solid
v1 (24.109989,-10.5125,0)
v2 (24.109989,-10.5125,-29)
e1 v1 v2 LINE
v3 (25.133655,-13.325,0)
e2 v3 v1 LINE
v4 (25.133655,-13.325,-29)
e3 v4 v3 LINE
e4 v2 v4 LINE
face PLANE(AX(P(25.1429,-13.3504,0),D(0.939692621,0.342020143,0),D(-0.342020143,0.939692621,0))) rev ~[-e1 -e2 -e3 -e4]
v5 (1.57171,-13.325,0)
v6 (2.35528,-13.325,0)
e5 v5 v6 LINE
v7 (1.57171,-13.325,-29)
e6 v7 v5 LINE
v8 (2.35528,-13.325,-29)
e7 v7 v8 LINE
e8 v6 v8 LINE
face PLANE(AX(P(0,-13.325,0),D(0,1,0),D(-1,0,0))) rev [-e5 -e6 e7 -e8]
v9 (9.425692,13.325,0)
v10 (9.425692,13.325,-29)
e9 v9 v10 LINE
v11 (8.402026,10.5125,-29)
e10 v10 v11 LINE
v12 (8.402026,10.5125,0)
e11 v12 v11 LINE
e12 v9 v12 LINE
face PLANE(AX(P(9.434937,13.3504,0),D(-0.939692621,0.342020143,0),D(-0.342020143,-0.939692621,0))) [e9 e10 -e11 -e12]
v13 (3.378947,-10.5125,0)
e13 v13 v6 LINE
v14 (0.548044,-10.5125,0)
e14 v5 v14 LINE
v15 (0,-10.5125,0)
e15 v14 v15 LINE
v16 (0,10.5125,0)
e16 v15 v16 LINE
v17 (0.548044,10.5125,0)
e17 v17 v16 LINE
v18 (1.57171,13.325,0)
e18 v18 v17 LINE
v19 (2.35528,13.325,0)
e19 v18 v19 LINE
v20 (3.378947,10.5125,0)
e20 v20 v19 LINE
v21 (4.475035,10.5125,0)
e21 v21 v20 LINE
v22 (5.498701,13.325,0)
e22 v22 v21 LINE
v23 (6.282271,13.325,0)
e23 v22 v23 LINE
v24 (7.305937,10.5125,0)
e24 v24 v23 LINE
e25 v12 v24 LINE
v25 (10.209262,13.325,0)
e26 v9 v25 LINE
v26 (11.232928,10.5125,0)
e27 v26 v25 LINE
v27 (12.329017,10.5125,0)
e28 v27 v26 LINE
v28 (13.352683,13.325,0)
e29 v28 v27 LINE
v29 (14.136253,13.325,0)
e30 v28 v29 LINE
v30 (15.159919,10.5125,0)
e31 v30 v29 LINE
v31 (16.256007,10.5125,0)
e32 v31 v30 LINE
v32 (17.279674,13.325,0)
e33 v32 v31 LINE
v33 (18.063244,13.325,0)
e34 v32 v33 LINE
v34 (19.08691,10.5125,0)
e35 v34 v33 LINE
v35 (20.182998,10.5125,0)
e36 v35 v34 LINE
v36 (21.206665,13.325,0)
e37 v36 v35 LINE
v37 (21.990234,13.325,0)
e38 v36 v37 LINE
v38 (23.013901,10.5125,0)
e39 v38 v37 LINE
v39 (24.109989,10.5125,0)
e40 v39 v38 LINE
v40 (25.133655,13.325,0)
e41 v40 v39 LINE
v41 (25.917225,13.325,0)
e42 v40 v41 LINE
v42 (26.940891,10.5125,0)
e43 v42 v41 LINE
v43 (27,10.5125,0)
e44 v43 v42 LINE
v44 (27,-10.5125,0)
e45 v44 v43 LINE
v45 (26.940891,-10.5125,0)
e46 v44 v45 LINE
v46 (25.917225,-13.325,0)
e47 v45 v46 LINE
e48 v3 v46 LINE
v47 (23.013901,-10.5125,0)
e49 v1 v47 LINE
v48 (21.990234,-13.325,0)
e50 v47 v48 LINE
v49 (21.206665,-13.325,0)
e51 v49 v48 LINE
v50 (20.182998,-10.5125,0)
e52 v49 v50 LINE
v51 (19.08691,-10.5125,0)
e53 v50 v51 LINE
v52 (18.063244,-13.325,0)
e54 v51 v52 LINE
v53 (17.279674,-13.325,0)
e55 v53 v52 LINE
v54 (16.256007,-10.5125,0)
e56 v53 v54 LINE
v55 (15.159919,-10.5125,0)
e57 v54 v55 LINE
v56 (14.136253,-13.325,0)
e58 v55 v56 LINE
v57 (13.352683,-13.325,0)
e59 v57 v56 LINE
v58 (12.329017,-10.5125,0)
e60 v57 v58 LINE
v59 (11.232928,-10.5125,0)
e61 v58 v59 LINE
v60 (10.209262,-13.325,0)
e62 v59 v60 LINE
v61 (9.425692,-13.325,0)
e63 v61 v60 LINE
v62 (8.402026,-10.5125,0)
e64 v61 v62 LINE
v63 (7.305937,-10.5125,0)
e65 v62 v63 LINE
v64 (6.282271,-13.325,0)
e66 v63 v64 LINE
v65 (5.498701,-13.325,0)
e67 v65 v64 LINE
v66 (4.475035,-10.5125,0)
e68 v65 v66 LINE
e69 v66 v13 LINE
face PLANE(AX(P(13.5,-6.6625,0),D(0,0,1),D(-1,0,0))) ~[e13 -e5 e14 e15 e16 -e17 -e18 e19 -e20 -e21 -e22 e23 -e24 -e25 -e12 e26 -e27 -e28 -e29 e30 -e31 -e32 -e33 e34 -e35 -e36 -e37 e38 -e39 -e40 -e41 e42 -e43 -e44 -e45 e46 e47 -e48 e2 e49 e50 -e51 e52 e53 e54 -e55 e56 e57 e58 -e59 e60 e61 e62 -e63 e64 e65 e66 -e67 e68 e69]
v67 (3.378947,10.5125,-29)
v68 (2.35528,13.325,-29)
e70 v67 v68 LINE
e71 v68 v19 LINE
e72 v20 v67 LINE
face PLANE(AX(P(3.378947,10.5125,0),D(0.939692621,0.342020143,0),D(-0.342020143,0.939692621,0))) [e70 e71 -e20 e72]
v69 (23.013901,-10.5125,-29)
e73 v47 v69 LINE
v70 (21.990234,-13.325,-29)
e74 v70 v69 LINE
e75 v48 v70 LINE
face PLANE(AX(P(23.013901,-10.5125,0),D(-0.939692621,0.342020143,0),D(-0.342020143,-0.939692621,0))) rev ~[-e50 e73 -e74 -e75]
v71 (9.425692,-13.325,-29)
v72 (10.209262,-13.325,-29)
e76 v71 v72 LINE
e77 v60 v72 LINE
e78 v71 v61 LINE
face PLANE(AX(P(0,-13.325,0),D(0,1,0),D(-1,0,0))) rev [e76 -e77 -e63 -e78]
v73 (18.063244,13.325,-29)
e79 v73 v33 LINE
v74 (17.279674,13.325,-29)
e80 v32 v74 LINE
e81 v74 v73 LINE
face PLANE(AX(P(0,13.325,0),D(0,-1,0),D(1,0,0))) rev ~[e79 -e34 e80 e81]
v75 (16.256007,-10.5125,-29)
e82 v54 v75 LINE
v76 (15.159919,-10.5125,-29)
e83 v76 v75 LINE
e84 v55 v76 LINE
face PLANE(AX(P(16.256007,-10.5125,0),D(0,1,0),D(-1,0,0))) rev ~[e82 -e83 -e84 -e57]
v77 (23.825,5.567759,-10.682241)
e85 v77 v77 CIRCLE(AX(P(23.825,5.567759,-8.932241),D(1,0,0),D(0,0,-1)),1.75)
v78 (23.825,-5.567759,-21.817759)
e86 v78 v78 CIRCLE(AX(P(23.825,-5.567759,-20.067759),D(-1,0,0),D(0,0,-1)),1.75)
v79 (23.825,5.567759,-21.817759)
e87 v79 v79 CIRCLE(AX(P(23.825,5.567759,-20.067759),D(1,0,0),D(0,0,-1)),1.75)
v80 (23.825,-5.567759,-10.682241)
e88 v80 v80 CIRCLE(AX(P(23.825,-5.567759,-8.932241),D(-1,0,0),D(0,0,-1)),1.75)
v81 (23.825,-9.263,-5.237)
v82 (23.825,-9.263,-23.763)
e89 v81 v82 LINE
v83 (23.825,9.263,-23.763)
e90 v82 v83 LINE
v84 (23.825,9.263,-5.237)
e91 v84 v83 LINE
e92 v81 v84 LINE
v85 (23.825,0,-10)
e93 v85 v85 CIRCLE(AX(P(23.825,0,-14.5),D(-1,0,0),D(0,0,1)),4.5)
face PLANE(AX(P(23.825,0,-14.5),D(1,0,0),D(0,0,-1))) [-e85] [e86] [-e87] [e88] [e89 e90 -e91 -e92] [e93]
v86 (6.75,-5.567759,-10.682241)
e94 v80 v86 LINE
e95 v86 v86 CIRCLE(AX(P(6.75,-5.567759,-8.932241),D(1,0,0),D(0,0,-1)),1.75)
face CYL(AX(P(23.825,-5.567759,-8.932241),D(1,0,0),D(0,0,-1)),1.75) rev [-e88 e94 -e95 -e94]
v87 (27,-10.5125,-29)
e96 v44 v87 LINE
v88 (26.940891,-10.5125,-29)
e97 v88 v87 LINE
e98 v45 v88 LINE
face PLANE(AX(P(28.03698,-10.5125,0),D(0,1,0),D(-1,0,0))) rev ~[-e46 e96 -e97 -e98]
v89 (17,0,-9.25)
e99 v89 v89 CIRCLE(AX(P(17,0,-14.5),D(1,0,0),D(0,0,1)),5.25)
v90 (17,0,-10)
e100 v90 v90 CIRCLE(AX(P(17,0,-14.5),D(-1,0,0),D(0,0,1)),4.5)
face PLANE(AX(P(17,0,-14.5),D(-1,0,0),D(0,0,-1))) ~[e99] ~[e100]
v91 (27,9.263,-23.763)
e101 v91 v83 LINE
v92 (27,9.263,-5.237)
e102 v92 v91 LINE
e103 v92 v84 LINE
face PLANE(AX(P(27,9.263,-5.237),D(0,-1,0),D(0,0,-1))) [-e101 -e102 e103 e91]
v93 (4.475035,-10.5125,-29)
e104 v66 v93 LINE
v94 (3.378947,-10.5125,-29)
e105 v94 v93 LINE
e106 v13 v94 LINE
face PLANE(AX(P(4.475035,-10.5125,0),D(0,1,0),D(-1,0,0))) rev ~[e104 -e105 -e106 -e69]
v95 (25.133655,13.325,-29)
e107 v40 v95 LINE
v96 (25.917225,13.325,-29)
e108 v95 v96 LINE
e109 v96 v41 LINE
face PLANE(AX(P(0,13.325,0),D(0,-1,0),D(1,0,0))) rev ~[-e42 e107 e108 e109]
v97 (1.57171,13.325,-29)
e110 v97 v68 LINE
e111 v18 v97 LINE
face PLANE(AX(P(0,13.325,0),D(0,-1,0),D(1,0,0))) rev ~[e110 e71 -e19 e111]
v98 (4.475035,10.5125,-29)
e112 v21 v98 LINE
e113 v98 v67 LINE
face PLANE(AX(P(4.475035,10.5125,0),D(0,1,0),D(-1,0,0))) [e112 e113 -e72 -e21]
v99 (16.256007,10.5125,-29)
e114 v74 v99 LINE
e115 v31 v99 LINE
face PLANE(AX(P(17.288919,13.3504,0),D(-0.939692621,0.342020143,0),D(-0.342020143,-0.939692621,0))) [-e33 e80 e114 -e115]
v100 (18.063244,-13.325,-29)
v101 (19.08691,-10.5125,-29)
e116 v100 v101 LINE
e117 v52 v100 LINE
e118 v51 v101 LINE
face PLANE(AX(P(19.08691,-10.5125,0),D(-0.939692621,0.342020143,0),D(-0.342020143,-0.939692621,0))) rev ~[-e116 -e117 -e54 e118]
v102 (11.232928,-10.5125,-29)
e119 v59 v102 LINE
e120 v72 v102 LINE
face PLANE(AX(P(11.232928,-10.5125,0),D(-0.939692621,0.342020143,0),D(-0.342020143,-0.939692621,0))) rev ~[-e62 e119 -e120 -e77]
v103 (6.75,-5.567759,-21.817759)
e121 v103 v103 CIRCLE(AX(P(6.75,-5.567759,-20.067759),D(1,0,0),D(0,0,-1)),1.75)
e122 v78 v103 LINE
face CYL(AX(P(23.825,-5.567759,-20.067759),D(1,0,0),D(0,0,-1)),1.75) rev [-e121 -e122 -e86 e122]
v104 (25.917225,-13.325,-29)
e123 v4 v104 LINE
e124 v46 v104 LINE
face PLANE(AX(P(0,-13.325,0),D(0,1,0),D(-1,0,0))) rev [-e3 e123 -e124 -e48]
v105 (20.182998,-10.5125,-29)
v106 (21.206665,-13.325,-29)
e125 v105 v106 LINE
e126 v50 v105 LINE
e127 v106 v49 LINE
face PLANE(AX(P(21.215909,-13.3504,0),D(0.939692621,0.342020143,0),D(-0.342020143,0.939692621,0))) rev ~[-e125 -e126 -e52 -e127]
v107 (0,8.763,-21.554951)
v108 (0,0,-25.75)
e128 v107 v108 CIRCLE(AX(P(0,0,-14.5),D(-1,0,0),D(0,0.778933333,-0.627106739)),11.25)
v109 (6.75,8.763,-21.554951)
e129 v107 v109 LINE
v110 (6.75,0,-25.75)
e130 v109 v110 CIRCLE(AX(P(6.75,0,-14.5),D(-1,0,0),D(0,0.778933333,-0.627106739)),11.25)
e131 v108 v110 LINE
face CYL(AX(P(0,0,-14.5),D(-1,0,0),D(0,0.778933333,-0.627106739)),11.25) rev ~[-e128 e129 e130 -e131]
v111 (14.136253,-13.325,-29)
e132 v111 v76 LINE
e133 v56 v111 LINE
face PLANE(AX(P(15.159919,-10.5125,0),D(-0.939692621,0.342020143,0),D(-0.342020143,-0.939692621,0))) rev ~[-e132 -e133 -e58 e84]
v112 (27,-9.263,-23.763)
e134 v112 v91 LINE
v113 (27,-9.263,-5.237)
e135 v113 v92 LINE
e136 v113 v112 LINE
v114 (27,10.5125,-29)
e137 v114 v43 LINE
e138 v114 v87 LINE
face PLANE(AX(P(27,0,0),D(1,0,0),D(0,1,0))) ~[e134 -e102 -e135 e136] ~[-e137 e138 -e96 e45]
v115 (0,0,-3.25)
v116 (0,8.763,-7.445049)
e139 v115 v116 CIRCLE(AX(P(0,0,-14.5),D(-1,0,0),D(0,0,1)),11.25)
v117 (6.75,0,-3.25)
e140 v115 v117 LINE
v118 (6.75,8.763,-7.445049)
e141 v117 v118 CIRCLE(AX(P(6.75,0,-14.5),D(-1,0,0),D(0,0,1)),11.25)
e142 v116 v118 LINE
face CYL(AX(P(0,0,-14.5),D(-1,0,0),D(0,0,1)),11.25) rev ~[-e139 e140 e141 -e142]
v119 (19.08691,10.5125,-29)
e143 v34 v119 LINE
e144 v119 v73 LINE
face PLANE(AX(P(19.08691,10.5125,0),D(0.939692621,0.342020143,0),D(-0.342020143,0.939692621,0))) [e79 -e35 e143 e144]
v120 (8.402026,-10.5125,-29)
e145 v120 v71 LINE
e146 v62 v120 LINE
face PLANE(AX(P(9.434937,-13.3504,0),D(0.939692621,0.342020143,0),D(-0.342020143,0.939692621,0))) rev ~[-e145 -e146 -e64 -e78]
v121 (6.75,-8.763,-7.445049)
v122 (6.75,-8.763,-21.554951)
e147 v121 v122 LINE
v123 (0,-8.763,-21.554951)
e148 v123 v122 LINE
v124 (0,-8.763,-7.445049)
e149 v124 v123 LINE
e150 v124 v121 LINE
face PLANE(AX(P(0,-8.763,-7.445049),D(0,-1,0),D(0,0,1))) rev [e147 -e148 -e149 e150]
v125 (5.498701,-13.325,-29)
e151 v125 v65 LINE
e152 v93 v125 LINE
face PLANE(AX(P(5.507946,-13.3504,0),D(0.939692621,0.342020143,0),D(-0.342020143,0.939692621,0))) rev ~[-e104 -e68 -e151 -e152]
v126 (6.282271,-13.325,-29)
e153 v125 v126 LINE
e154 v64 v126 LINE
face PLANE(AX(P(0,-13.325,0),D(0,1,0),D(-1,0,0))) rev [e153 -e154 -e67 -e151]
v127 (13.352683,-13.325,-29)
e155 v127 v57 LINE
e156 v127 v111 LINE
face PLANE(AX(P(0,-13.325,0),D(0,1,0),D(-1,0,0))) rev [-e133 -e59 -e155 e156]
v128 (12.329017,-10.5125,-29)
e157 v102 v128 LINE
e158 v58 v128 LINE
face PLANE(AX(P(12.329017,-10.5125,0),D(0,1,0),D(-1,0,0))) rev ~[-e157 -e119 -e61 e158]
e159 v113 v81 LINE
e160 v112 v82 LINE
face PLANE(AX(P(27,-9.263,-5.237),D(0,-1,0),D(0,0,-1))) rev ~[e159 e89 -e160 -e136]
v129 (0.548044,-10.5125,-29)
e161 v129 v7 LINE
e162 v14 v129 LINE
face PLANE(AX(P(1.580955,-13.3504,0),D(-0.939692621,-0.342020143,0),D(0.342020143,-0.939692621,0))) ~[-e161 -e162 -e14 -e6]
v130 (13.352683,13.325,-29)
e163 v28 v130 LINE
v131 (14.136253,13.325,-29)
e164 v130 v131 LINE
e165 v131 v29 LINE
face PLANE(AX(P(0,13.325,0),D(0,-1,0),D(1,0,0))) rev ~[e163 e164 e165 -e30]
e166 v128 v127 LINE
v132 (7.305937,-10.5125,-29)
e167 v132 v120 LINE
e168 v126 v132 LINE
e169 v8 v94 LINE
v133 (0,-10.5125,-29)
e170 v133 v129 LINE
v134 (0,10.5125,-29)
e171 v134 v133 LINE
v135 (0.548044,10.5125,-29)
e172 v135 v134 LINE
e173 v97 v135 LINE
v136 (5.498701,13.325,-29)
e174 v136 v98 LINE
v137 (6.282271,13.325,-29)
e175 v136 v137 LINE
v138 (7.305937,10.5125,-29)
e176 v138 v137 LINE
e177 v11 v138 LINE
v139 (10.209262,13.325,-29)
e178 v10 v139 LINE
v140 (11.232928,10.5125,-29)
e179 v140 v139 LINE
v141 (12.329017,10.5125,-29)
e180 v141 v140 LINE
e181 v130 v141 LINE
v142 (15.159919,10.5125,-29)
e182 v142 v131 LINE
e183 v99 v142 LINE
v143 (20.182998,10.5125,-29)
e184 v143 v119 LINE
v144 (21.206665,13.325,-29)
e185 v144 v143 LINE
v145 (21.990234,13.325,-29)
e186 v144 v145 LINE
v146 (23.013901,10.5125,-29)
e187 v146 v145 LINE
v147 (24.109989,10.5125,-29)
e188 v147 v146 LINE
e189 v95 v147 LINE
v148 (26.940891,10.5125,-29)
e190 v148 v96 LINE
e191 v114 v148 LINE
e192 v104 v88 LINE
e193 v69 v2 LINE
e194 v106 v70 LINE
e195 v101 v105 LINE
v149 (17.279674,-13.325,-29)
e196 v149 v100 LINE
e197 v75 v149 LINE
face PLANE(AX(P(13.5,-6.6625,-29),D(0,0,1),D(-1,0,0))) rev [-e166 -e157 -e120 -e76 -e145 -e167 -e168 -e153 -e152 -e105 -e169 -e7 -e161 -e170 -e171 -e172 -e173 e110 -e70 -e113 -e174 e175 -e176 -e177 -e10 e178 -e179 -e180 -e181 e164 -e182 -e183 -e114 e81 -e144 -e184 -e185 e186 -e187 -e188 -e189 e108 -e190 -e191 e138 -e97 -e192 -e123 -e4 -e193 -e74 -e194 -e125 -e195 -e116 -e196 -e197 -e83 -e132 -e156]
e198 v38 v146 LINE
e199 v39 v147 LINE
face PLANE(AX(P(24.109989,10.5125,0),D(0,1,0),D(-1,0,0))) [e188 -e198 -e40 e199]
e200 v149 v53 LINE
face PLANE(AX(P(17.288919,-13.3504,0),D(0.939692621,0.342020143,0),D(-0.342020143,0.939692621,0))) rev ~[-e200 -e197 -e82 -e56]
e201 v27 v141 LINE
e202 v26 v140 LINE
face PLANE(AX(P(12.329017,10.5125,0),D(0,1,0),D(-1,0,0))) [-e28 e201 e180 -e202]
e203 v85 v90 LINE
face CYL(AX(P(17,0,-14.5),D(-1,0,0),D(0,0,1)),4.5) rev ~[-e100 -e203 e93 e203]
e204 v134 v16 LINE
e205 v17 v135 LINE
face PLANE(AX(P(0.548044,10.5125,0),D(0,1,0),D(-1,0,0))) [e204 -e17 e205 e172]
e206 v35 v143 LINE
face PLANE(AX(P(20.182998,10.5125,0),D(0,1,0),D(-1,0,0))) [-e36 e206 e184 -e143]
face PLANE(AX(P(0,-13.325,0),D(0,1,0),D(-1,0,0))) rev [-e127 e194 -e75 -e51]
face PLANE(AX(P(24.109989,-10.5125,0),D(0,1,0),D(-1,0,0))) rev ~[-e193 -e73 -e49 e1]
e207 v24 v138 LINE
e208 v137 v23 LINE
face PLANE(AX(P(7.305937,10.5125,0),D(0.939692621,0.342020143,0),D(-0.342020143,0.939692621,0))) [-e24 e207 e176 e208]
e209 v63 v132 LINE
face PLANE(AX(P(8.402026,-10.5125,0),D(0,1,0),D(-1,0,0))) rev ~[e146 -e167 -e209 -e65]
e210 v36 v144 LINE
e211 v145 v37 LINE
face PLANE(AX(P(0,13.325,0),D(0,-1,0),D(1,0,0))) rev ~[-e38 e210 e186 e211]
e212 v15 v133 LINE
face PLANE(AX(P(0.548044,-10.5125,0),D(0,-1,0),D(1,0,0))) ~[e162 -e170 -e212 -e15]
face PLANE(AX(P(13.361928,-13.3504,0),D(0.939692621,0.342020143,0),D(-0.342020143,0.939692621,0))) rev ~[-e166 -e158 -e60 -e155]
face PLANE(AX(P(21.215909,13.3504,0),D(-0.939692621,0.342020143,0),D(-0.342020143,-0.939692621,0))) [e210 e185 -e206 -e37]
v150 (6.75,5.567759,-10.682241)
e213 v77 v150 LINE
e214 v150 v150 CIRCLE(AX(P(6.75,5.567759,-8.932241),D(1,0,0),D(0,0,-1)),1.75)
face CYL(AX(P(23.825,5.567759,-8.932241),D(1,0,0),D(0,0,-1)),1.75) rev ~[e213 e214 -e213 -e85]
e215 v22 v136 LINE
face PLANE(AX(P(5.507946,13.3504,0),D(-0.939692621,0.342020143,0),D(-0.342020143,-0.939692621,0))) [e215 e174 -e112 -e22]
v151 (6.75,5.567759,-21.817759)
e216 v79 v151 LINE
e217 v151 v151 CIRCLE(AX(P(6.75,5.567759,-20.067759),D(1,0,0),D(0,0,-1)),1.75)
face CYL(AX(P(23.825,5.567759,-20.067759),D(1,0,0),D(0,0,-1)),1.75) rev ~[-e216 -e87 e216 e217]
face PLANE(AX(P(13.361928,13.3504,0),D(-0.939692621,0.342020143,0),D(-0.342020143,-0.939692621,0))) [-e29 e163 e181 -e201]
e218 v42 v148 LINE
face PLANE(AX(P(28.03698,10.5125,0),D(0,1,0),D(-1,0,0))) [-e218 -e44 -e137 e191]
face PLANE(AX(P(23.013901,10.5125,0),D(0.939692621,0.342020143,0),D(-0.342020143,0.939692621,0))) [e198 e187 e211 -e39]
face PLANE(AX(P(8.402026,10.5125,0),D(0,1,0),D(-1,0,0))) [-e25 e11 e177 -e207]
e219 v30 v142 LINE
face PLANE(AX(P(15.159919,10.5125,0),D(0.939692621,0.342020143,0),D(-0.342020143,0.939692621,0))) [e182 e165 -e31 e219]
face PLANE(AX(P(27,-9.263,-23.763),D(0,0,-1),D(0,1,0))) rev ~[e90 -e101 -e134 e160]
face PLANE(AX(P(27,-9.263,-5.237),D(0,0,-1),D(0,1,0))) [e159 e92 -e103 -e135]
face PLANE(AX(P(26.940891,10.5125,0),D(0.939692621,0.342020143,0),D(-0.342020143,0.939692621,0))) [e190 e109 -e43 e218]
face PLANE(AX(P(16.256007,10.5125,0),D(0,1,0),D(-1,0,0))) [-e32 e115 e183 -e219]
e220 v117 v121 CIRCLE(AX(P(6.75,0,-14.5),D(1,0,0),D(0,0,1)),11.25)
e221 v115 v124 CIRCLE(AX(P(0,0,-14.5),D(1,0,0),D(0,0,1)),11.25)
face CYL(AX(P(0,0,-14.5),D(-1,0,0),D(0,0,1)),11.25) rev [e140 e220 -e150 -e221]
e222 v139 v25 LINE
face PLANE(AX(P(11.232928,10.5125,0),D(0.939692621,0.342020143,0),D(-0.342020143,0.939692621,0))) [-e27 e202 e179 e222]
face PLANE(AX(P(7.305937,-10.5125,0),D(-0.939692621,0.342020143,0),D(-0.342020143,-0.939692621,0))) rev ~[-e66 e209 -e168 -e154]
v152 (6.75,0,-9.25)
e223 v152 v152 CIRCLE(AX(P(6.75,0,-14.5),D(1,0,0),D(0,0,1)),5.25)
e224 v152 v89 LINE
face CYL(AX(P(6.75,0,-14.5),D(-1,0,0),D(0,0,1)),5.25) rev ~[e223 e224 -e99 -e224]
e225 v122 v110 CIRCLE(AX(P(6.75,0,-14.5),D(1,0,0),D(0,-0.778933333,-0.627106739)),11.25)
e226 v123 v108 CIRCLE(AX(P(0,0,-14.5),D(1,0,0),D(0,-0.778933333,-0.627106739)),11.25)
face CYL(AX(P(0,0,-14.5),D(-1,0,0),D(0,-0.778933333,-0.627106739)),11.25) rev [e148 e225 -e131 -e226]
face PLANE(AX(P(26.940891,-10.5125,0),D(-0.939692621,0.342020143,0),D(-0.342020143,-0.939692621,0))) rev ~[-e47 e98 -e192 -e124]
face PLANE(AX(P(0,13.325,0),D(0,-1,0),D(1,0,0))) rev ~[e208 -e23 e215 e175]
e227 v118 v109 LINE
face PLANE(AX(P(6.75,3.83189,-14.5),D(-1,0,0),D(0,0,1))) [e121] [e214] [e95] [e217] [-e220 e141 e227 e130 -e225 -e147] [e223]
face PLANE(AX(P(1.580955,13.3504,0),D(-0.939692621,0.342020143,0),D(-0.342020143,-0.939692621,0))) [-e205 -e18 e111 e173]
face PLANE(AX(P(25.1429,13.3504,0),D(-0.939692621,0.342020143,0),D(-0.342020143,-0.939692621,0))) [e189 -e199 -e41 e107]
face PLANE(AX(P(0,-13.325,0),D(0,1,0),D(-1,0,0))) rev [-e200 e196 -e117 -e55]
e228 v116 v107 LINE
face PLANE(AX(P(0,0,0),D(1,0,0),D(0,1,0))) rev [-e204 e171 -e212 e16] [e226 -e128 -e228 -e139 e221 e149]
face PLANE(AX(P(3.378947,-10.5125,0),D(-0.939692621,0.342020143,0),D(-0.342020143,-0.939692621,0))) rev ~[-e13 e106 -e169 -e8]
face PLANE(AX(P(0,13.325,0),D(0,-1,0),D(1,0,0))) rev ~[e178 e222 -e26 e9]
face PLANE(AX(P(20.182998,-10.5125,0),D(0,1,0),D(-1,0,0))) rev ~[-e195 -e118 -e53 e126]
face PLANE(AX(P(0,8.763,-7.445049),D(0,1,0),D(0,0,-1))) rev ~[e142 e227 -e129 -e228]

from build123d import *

# Parameters (mm, degrees)
BLANKSKE_W           = 27
BLANKSKE_H           = 13.325
BLANK_DEPTH          = 29
TOOTHCUTSIM_DEPTH    = 42.803775248
TEETHCUTS_COUNT      = 8
TEETHCUTS_PITCH      = 3.926990813
CUT_EXTRUDE1_DEPTH   = 6.75
SKETCH3_R            = 5.25
CUT_EXTRUDE2_DEPTH   = 10.25
SKETCH4_R            = 4.5
CUT_EXTRUDE3_DEPTH   = 37.16013862
SKETCH5_R            = 2.5
CUT_EXTRUDE4_DEPTH   = 3.175
SKETCH6_R            = 1.75
CUT_EXTRUDE5_DEPTH   = 40.826953813
MIRROR1_COPY_1_DEPTH = 42.803775248
MIRROR1_COPY_2_DEPTH = 42.803775248
MIRROR1_COPY_3_DEPTH = 42.803775248
MIRROR1_COPY_4_DEPTH = 42.803775248
MIRROR1_COPY_5_DEPTH = 42.803775248
MIRROR1_COPY_6_DEPTH = 42.803775248
MIRROR1_COPY_7_DEPTH = 42.803775248
SKETCH9_W            = 18.526
SKETCH9_H            = 18.526
CUT_EXTRUDE6_DEPTH   = 3.175


with BuildPart() as part:
    # BlankSke → Blank (new body)
    with BuildSketch(Plane.XY):
        with Locations((13.5, 6.6625)):
            Rectangle(BLANKSKE_W, BLANKSKE_H)
    blank = extrude(amount=-BLANK_DEPTH)

    # TooCutSkeSim → ToothCutSim (cut, through all)
    with BuildSketch(Plane.XY):
        Polygon((0.548044212, 10.5125), (-0.548044212, 10.5125), (-1.58095534, 13.3504), (1.58095534, 13.3504), align=None)
    toothcutsim = extrude(amount=-TOOTHCUTSIM_DEPTH, mode=Mode.SUBTRACT)

    # TeethCuts: ToothCutSim ×8
    with Locations(*[(i * TEETHCUTS_PITCH, 0, 0) for i in range(1, TEETHCUTS_COUNT)]):
        add(toothcutsim, mode=Mode.SUBTRACT)

    # Sketch2 → Cut-Extrude1 (cut)
    with BuildSketch(Plane.ZY):
        with BuildLine():
            Line((-7.445049185, 8.763), (-21.554950815, 8.763))
            ThreePointArc((-21.554950815, 8.763), (-24.647184256, 4.857689952), (-25.75, 0))
            Line((-25.75, 0), (-3.25, 0))
            ThreePointArc((-3.25, 0), (-4.352815744, 4.857689952), (-7.445049185, 8.763))
        make_face()
    cut_extrude1 = extrude(amount=-CUT_EXTRUDE1_DEPTH, mode=Mode.SUBTRACT)

    # Sketch3 → Cut-Extrude2 (cut)
    with BuildSketch(Plane.ZY.offset(-6.75)):
        with Locations((-14.5, 0)):
            Circle(SKETCH3_R)
    cut_extrude2 = extrude(amount=-CUT_EXTRUDE2_DEPTH, mode=Mode.SUBTRACT)

    # Sketch4 → Cut-Extrude3 (cut, symmetric)
    with BuildSketch(Plane.ZY.offset(-17)):
        with Locations((-14.5, 0)):
            Circle(SKETCH4_R)
    cut_extrude3 = extrude(amount=CUT_EXTRUDE3_DEPTH, both=True, mode=Mode.SUBTRACT)

    # Sketch5 → Cut-Extrude4 (cut)
    with BuildSketch(Plane(origin=(27, 0, 0), x_dir=(0, 0, -1), z_dir=(1, 0, 0))):
        with Locations((8.932241205, 5.567758795)):
            Circle(SKETCH5_R)
        with Locations((20.067758795, 5.567758795)):
            Circle(SKETCH5_R)
    cut_extrude4 = extrude(amount=-CUT_EXTRUDE4_DEPTH, mode=Mode.SUBTRACT)

    # Sketch6 → Cut-Extrude5 (cut, through all)
    with BuildSketch(Plane(origin=(23.825, 0, 0), x_dir=(0, 0, -1), z_dir=(1, 0, 0))):
        with Locations((20.067758795, 5.567758795)):
            Circle(SKETCH6_R)
        with Locations((8.932241205, 5.567758795)):
            Circle(SKETCH6_R)
    cut_extrude5 = extrude(amount=-CUT_EXTRUDE5_DEPTH, mode=Mode.SUBTRACT)

    # Mirror1: Blank, ToothCutSim, Cut-Extrude1, Cut-Extrude2, Cut-Extrude3, Cut-Extrude4, Cut-Extrude5 across plane
    add(blank.mirror(Plane(origin=(0, 0, -29), x_dir=(0, 0, 1), z_dir=(0, -1, 0))))
    add(toothcutsim.mirror(Plane(origin=(0, 0, -29), x_dir=(0, 0, 1), z_dir=(0, -1, 0))), mode=Mode.SUBTRACT)
    add(cut_extrude1.mirror(Plane(origin=(0, 0, -29), x_dir=(0, 0, 1), z_dir=(0, -1, 0))), mode=Mode.SUBTRACT)
    add(cut_extrude2.mirror(Plane(origin=(0, 0, -29), x_dir=(0, 0, 1), z_dir=(0, -1, 0))), mode=Mode.SUBTRACT)
    add(cut_extrude3.mirror(Plane(origin=(0, 0, -29), x_dir=(0, 0, 1), z_dir=(0, -1, 0))), mode=Mode.SUBTRACT)
    add(cut_extrude4.mirror(Plane(origin=(0, 0, -29), x_dir=(0, 0, 1), z_dir=(0, -1, 0))), mode=Mode.SUBTRACT)
    add(cut_extrude5.mirror(Plane(origin=(0, 0, -29), x_dir=(0, 0, 1), z_dir=(0, -1, 0))), mode=Mode.SUBTRACT)

    # Mirror1 copy 1 sketch → Mirror1 copy 1 (cut, through all)
    with BuildSketch(Plane(origin=(3.926990813, 0, 0), x_dir=(1, 0, 0), z_dir=(0, 0, 1))):
        Polygon((0.548044212, -10.5125), (-0.548044212, -10.5125), (-1.58095534, -13.3504), (1.58095534, -13.3504), align=None)
    extrude(amount=-MIRROR1_COPY_1_DEPTH, mode=Mode.SUBTRACT)

    # Mirror1 copy 2 sketch → Mirror1 copy 2 (cut, through all)
    with BuildSketch(Plane(origin=(7.853981625, 0, 0), x_dir=(1, 0, 0), z_dir=(0, 0, 1))):
        Polygon((0.548044212, -10.5125), (-0.548044212, -10.5125), (-1.58095534, -13.3504), (1.58095534, -13.3504), align=None)
    extrude(amount=-MIRROR1_COPY_2_DEPTH, mode=Mode.SUBTRACT)

    # Mirror1 copy 3 sketch → Mirror1 copy 3 (cut, through all)
    with BuildSketch(Plane(origin=(11.780972438, 0, 0), x_dir=(1, 0, 0), z_dir=(0, 0, 1))):
        Polygon((0.548044212, -10.5125), (-0.548044212, -10.5125), (-1.58095534, -13.3504), (1.58095534, -13.3504), align=None)
    extrude(amount=-MIRROR1_COPY_3_DEPTH, mode=Mode.SUBTRACT)

    # Mirror1 copy 4 sketch → Mirror1 copy 4 (cut, through all)
    with BuildSketch(Plane(origin=(15.70796325, 0, 0), x_dir=(1, 0, 0), z_dir=(0, 0, 1))):
        Polygon((0.548044212, -10.5125), (-0.548044212, -10.5125), (-1.58095534, -13.3504), (1.58095534, -13.3504), align=None)
    extrude(amount=-MIRROR1_COPY_4_DEPTH, mode=Mode.SUBTRACT)

    # Mirror1 copy 5 sketch → Mirror1 copy 5 (cut, through all)
    with BuildSketch(Plane(origin=(19.634954063, 0, 0), x_dir=(1, 0, 0), z_dir=(0, 0, 1))):
        Polygon((0.548044212, -10.5125), (-0.548044212, -10.5125), (-1.58095534, -13.3504), (1.58095534, -13.3504), align=None)
    extrude(amount=-MIRROR1_COPY_5_DEPTH, mode=Mode.SUBTRACT)

    # Mirror1 copy 6 sketch → Mirror1 copy 6 (cut, through all)
    with BuildSketch(Plane(origin=(23.561944875, 0, 0), x_dir=(1, 0, 0), z_dir=(0, 0, 1))):
        Polygon((0.548044212, -10.5125), (-0.548044212, -10.5125), (-1.58095534, -13.3504), (1.58095534, -13.3504), align=None)
    extrude(amount=-MIRROR1_COPY_6_DEPTH, mode=Mode.SUBTRACT)

    # Mirror1 copy 7 sketch → Mirror1 copy 7 (cut, through all)
    with BuildSketch(Plane(origin=(27.488935688, 0, 0), x_dir=(1, 0, 0), z_dir=(0, 0, 1))):
        Polygon((0.548044212, -10.5125), (-0.548044212, -10.5125), (-1.58095534, -13.3504), (1.58095534, -13.3504), align=None)
    extrude(amount=-MIRROR1_COPY_7_DEPTH, mode=Mode.SUBTRACT)

    # Sketch9 → Cut-Extrude6 (cut)
    with BuildSketch(Plane(origin=(27, 0, 0), x_dir=(0, 0, -1), z_dir=(1, 0, 0))):
        with Locations((14.5, 0)):
            Rectangle(SKETCH9_W, SKETCH9_H)
    extrude(amount=-CUT_EXTRUDE6_DEPTH, mode=Mode.SUBTRACT)


solid = part.part
